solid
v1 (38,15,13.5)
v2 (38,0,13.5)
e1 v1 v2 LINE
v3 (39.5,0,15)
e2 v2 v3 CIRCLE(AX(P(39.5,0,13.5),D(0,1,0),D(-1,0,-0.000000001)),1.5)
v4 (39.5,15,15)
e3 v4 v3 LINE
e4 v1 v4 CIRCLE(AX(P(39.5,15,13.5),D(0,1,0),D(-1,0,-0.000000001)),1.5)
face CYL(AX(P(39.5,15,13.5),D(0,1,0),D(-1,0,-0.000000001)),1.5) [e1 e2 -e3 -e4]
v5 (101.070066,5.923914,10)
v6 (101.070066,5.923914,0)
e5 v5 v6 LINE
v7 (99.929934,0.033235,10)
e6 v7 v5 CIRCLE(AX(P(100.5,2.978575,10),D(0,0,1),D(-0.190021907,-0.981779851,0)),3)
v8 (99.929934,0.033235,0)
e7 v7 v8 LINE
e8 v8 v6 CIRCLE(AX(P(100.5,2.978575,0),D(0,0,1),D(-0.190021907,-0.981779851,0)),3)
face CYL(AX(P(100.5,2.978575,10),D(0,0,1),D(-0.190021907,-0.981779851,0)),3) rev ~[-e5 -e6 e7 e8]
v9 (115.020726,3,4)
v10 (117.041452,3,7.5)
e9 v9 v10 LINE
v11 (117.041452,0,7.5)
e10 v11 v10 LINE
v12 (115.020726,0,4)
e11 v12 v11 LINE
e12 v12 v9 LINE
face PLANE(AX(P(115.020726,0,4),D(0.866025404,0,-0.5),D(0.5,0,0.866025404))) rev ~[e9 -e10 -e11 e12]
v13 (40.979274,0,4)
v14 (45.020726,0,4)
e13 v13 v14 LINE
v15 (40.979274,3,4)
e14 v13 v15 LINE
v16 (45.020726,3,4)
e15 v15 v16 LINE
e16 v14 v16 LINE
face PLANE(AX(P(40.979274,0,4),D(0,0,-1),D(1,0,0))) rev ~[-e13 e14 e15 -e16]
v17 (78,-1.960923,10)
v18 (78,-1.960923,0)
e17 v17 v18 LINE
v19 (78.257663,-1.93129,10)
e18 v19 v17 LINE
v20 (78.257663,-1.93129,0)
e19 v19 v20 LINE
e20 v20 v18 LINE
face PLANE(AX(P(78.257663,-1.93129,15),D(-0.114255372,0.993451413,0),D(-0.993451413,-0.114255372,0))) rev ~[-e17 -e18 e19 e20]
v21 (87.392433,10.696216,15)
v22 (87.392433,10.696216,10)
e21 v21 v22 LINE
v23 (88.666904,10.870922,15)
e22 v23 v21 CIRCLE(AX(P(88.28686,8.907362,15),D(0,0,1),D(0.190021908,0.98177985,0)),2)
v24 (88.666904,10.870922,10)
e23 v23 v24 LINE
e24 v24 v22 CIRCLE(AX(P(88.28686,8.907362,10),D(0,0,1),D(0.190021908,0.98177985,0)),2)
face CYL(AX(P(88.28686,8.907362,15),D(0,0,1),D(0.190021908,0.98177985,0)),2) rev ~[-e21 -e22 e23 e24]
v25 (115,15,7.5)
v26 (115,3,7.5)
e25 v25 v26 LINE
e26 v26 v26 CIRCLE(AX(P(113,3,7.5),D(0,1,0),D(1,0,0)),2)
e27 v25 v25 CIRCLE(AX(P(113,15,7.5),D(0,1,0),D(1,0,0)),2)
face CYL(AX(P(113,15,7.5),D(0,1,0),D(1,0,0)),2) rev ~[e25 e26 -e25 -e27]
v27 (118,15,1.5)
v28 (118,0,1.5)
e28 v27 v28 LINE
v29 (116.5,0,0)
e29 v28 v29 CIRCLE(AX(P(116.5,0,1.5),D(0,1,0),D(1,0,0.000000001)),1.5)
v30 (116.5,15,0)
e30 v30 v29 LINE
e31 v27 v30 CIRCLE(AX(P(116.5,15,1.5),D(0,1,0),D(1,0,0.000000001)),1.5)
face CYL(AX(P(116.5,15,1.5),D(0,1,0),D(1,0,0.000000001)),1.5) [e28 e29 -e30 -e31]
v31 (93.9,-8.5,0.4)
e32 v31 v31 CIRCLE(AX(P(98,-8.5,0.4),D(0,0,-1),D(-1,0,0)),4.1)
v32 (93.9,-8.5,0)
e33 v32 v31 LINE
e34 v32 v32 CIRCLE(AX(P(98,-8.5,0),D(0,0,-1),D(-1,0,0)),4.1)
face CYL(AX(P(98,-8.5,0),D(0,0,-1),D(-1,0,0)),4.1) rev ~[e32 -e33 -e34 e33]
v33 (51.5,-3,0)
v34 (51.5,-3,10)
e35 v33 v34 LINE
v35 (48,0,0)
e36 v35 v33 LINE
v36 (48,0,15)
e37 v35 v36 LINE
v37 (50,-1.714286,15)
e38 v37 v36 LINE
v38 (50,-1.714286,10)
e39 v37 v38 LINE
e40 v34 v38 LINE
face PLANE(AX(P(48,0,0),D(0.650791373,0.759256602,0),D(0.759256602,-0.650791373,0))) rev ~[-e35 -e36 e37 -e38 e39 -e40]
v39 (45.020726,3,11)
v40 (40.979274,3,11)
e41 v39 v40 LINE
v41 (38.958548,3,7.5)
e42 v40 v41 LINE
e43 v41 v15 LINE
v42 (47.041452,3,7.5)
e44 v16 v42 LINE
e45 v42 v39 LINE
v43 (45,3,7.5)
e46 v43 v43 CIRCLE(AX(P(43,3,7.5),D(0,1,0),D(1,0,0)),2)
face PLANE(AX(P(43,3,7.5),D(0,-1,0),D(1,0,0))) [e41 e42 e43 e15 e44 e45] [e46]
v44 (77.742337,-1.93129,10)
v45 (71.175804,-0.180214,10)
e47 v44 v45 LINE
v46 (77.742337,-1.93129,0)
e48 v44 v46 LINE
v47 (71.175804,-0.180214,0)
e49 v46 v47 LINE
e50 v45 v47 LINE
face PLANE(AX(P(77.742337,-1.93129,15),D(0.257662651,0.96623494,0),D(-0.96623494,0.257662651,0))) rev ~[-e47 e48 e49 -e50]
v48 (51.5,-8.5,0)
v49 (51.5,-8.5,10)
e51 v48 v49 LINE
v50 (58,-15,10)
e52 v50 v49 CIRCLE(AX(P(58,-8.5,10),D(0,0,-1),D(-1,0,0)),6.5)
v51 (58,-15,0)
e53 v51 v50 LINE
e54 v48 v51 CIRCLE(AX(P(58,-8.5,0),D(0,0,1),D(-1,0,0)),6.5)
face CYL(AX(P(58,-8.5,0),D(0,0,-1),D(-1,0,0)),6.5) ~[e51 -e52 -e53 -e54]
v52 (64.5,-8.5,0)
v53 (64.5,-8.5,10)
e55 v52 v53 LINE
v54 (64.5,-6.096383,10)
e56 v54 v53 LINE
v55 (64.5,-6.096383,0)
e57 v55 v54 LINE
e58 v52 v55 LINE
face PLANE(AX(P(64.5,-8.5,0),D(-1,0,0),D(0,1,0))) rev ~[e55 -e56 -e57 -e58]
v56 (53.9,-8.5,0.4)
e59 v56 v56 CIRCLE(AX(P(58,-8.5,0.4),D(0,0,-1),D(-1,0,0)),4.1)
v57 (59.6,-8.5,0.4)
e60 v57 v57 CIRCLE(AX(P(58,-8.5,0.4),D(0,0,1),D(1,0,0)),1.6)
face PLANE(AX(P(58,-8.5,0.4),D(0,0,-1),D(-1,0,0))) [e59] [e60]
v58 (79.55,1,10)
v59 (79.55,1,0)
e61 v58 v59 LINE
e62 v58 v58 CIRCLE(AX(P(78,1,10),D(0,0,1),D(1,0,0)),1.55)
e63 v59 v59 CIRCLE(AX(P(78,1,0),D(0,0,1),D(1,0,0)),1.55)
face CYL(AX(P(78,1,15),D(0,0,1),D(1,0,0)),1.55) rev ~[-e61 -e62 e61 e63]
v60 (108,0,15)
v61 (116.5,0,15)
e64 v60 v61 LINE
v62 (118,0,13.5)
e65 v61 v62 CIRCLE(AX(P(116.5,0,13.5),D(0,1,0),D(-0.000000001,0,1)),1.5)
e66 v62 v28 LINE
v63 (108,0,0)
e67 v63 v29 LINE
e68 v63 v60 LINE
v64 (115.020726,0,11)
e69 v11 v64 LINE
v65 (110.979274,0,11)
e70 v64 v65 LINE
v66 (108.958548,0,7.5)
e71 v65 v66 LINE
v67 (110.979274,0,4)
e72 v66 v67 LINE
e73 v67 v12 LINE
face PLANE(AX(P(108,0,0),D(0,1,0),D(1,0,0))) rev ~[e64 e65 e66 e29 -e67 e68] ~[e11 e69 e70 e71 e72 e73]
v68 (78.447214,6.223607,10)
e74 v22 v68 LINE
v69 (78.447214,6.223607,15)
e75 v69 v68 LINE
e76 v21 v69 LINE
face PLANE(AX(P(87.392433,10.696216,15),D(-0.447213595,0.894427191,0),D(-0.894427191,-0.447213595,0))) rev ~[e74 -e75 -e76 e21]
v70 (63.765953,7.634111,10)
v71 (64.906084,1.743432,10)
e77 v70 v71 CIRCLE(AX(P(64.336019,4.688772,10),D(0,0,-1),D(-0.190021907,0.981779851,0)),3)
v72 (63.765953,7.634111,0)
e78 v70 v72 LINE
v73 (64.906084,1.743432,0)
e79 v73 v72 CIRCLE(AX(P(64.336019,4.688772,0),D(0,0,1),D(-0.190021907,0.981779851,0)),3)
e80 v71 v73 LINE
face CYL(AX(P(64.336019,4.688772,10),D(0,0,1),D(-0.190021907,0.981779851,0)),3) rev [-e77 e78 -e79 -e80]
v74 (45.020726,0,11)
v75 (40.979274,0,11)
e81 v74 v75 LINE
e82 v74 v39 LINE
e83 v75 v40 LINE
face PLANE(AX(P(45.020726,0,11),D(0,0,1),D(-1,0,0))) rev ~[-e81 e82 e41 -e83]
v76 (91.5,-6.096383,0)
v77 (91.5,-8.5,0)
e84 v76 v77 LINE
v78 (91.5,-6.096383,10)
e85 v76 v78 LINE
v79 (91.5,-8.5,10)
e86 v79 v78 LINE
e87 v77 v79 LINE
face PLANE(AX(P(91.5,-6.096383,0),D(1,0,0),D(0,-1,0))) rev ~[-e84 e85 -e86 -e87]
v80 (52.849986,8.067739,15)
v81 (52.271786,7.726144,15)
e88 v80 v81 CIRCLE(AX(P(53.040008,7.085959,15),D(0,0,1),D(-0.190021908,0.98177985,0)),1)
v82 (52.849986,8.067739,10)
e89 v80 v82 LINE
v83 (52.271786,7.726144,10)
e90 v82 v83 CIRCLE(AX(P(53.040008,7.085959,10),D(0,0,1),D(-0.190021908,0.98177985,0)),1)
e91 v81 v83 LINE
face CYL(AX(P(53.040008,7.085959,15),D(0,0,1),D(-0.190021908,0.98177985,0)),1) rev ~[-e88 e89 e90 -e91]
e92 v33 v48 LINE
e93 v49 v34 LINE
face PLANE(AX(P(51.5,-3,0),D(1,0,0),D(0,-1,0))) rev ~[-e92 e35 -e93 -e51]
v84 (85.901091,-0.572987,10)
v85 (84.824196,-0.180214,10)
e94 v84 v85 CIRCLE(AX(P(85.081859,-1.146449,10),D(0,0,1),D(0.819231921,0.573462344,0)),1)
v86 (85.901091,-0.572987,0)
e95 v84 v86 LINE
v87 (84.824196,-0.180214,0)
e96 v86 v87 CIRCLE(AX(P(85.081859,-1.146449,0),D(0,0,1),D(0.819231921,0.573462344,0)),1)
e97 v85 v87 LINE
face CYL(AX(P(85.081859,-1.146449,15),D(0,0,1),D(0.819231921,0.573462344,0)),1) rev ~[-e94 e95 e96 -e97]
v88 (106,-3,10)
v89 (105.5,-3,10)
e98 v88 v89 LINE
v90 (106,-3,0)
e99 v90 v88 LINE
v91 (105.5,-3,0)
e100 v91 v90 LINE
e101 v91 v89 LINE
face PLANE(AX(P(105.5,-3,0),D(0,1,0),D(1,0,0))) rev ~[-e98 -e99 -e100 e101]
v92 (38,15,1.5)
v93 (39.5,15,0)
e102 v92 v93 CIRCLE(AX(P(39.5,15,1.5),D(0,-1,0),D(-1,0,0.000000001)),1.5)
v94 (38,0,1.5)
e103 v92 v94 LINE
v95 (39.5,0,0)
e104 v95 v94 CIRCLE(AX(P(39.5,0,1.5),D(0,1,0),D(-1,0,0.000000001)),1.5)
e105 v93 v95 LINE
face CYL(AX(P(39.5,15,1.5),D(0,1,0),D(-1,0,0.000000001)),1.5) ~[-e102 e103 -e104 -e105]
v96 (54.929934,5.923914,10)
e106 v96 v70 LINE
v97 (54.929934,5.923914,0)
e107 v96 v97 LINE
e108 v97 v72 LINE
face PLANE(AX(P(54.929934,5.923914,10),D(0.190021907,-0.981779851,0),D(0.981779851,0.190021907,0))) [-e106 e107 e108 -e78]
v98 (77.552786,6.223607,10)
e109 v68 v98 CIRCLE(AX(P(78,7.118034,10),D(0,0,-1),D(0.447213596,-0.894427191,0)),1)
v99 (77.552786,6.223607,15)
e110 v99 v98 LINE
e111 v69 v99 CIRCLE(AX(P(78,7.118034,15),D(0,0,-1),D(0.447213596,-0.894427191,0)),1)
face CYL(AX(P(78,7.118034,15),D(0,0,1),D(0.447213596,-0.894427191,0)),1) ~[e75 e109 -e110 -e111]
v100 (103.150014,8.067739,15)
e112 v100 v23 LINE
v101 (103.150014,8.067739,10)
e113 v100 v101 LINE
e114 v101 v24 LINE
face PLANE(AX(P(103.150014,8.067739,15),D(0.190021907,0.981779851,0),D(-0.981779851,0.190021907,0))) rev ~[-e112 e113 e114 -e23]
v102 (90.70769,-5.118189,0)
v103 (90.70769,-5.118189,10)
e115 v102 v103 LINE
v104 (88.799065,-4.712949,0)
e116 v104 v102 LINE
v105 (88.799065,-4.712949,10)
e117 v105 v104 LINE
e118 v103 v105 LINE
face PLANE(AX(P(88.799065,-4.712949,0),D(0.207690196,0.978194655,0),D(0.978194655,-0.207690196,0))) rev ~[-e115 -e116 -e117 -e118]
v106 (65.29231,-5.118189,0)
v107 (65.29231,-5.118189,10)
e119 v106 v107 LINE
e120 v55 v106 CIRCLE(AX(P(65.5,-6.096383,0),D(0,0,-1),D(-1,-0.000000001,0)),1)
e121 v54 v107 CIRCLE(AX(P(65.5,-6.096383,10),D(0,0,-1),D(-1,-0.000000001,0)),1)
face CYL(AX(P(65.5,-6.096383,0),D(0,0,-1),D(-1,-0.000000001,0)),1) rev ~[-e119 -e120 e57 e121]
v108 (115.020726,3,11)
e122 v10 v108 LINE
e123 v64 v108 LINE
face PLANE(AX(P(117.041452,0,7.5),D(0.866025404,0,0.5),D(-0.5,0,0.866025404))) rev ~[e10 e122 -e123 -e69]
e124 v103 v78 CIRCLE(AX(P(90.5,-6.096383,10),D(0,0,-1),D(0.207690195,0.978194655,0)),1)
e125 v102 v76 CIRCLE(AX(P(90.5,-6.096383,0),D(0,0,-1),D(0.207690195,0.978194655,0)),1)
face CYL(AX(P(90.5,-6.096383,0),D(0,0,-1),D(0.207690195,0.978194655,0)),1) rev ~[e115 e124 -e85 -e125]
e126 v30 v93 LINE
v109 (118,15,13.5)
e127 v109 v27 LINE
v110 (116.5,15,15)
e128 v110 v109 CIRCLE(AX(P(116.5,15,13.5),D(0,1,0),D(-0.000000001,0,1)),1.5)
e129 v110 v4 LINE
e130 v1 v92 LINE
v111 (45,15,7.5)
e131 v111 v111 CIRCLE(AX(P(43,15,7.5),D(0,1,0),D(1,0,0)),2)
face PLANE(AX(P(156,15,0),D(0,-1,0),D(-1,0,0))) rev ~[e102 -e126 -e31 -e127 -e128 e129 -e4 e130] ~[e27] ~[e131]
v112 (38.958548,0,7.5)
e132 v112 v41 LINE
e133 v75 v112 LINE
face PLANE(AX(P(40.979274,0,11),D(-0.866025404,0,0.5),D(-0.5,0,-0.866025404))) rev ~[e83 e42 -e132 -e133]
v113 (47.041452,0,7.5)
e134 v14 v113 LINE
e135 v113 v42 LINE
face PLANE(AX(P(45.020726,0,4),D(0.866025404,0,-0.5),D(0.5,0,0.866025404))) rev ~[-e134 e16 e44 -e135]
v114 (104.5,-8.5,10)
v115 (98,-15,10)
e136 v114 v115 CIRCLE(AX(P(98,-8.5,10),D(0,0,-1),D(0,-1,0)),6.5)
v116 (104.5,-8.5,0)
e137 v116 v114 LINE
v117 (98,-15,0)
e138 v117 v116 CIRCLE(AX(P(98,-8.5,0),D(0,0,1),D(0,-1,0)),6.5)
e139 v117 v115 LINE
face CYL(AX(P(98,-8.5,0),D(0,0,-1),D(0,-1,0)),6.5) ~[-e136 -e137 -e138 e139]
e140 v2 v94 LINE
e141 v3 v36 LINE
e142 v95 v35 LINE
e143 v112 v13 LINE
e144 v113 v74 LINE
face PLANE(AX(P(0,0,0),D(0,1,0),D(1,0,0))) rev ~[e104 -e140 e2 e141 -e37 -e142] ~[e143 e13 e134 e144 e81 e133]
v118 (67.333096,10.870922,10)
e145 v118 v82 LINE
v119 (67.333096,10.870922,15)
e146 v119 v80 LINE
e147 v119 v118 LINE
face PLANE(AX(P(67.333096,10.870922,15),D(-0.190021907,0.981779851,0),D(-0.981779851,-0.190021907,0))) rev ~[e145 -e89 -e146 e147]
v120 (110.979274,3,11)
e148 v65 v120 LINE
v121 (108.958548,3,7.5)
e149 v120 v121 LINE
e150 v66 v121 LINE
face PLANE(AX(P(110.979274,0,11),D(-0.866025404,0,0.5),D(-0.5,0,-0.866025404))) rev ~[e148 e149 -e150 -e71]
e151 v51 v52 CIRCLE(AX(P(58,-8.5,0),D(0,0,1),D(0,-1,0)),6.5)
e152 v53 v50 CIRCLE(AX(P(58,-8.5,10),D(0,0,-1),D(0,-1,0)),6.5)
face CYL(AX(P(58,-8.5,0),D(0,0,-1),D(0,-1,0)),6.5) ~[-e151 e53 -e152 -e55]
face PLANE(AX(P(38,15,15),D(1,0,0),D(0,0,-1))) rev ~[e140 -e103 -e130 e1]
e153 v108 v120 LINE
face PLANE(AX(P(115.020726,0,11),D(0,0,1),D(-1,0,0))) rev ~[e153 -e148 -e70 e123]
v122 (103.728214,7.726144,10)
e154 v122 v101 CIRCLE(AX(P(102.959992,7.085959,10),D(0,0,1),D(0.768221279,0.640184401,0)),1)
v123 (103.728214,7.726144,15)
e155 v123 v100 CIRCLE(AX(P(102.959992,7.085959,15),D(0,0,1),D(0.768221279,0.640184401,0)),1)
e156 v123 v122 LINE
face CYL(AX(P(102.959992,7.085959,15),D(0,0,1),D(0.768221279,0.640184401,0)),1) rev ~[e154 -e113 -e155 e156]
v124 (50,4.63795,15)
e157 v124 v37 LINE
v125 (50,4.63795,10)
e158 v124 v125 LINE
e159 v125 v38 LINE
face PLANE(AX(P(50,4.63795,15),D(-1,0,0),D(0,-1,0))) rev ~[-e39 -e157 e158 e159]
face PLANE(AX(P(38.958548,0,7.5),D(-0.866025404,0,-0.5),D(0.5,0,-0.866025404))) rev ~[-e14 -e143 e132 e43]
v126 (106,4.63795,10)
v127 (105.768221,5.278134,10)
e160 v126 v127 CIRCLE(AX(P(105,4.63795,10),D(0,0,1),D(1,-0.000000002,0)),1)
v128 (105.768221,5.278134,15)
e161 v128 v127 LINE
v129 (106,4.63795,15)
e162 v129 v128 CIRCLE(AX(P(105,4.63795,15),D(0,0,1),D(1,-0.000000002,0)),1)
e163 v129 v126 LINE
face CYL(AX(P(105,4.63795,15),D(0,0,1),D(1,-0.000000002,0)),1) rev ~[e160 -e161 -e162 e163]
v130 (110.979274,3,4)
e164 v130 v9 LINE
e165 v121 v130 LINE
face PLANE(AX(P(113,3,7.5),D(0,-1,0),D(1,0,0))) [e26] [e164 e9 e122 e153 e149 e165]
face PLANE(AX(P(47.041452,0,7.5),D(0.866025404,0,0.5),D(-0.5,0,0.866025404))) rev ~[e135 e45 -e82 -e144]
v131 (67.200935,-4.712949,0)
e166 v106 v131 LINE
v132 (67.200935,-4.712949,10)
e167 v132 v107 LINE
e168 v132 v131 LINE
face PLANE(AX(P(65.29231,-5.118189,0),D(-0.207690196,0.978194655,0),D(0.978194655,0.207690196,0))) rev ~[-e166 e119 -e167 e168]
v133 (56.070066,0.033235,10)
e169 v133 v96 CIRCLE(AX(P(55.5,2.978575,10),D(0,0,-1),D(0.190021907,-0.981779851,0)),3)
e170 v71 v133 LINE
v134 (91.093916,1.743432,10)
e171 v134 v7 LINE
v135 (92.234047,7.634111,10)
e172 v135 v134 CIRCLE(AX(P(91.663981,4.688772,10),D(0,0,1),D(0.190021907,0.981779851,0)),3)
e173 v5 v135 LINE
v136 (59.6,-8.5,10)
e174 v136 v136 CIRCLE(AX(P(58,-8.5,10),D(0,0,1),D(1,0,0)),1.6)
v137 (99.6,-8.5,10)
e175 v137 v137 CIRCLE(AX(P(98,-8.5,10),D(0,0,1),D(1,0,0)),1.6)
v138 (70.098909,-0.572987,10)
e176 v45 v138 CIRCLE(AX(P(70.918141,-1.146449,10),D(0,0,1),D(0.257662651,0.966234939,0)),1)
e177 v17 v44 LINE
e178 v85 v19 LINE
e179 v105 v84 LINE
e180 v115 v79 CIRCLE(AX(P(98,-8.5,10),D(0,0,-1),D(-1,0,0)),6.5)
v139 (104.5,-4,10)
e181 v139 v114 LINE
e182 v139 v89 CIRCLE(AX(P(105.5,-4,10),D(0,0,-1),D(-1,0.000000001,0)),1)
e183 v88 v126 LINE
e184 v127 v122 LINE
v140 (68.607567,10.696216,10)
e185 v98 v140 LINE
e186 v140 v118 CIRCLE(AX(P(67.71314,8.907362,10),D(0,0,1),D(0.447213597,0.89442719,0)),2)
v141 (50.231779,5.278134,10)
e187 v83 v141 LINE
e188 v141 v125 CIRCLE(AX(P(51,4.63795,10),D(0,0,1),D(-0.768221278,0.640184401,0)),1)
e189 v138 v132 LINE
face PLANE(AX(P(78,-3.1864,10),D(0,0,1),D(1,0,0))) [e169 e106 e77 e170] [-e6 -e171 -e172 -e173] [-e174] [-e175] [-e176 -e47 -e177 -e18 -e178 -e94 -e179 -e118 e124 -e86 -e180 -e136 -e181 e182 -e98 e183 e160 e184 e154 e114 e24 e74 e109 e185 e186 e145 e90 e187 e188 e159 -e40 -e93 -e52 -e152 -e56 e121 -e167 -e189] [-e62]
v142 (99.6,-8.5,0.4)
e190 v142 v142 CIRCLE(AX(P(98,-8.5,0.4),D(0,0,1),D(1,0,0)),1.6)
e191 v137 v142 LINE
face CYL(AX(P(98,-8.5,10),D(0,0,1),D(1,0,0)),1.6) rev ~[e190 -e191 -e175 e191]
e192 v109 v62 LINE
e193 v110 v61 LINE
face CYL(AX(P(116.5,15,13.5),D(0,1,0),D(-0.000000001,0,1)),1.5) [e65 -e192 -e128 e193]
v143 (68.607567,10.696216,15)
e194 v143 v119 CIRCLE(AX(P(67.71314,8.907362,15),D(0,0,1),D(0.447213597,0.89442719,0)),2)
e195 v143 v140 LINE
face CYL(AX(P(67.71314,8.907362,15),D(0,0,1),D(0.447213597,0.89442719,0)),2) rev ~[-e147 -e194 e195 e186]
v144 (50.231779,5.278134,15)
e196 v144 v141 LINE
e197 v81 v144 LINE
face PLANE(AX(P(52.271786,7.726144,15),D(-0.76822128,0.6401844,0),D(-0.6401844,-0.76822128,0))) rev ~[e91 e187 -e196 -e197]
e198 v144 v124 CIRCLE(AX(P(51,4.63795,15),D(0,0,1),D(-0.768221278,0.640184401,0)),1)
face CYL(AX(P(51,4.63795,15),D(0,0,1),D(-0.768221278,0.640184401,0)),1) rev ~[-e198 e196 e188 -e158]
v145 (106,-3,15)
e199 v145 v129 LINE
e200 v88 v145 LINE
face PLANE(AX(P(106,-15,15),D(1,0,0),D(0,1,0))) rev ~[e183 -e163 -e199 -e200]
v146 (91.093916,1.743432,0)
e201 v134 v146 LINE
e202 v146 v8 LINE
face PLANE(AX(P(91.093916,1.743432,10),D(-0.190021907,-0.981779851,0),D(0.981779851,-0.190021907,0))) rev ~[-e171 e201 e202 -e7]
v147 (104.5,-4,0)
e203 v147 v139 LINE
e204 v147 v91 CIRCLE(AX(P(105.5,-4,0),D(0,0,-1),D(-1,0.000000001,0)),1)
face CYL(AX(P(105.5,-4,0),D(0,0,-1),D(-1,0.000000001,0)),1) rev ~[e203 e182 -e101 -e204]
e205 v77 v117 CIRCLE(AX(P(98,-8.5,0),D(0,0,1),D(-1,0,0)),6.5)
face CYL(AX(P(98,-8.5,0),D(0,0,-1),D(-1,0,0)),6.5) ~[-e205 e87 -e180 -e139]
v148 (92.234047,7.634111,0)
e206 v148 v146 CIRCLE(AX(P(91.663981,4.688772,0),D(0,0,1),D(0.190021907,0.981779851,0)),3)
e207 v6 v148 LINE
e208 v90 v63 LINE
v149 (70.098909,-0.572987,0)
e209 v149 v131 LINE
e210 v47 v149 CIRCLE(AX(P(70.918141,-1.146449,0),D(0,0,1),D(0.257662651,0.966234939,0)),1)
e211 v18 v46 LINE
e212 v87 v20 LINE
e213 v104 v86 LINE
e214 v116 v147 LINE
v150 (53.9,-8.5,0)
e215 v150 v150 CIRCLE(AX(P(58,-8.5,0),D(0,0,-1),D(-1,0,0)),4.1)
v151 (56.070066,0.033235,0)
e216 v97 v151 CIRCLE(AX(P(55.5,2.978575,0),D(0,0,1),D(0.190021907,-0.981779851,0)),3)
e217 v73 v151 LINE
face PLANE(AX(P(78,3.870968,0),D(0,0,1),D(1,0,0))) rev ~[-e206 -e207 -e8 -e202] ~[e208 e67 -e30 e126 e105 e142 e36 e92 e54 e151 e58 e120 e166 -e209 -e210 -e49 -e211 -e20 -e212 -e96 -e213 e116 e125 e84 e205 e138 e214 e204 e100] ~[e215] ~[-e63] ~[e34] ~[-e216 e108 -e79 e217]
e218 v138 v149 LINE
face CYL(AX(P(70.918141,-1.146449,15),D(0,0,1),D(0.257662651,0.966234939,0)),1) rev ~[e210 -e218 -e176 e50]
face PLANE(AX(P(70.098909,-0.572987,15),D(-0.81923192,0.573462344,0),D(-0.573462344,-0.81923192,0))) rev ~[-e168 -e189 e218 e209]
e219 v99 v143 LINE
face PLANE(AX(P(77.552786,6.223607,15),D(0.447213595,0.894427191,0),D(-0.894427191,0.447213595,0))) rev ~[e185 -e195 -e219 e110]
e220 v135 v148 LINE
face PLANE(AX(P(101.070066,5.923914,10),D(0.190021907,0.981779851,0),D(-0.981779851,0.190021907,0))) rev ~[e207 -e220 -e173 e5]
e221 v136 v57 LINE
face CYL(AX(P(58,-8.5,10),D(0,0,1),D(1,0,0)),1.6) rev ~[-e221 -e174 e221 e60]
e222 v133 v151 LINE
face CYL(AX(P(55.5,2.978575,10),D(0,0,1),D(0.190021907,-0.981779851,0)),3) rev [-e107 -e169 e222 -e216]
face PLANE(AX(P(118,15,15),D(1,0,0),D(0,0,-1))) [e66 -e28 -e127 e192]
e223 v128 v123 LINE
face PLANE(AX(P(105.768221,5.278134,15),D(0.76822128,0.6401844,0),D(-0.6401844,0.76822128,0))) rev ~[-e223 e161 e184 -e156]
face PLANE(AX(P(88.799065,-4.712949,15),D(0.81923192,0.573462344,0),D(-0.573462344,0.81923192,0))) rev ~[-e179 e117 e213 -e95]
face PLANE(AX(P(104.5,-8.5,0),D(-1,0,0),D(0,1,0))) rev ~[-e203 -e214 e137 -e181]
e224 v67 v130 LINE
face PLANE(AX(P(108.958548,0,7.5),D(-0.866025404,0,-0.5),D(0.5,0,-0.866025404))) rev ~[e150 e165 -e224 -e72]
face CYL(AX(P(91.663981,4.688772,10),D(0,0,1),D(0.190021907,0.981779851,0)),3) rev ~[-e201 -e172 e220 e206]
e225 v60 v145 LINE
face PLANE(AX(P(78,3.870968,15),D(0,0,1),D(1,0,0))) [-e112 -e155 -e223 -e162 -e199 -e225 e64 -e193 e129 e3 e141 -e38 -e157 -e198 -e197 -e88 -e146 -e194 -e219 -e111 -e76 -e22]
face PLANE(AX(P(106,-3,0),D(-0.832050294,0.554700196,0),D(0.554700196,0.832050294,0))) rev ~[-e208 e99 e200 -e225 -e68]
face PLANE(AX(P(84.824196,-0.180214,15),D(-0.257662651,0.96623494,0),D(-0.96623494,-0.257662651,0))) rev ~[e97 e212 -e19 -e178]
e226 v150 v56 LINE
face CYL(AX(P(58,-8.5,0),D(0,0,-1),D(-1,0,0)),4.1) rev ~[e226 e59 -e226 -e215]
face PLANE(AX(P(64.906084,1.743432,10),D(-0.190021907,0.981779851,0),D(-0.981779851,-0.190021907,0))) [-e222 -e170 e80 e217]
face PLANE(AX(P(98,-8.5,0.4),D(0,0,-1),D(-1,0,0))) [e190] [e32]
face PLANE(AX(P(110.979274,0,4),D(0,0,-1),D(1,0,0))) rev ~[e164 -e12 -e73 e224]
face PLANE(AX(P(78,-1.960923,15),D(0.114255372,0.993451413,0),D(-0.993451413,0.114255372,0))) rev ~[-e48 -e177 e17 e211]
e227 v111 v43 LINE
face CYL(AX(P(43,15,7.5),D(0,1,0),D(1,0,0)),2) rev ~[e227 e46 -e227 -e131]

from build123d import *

# Parameters (mm, degrees)
BOSS_EXTRUDE1_DEPTH = 15
CUT_EXTRUDE7_DEPTH  = 5
CUT_EXTRUDE8_DEPTH  = 35
SKETCH3_R           = 1.55
CUT_EXTRUDE10_DEPTH = 32
SKETCH10_R          = 1.6
CUT_EXTRUDE11_DEPTH = 32
SKETCH11_R          = 4.1
CUT_EXTRUDE12_DEPTH = 0.4
CUT_EXTRUDE13_DEPTH = 32
SKETCH14_R          = 2
CUT_EXTRUDE14_DEPTH = 22
CUT_EXTRUDE15_DEPTH = 3
SKETCH16_W          = 38
SKETCH16_H          = 15
CUT_EXTRUDE16_DEPTH = 20
CUT_EXTRUDE17_DEPTH = 20


with BuildPart() as part:
    # Sketch1 → Boss-Extrude1 (new body)
    with BuildSketch(Plane.XY):
        Polygon((0, 0), (48, 0), (48, -15), (108, -15), (108, 0), (156, 0), (156, 15), (0, 15), align=None)
    extrude(amount=BOSS_EXTRUDE1_DEPTH)

    # Sketch2 → Cut-Extrude7 (cut)
    with BuildSketch(Plane.XY.offset(15)):
        with BuildLine():
            Line((77.552786405, 6.223606798), (68.60756702, 10.69621649))
            ThreePointArc((68.60756702, 10.69621649), (67.984760984, 10.888831752), (67.333096015, 10.870921809))
            Line((67.333096015, 10.870921809), (52.849985824, 8.067739192))
            ThreePointArc((52.849985824, 8.067739192), (52.531353266, 7.946930093), (52.271786451, 7.726143741))
            Line((52.271786451, 7.726143741), (50.23177872, 5.278134464))
            ThreePointArc((50.23177872, 5.278134464), (50.059728422, 4.978375329), (50, 4.637950065))
            Line((50, 4.637950065), (50, -15))
            Line((50, -15), (106, -15))
            Line((106, -15), (106, 4.637950065))
            ThreePointArc((106, 4.637950065), (105.940271578, 4.978375329), (105.76822128, 5.278134464))
            Line((105.76822128, 5.278134464), (103.728213549, 7.726143741))
            ThreePointArc((103.728213549, 7.726143741), (103.468646734, 7.946930093), (103.150014176, 8.067739192))
            Line((103.150014176, 8.067739192), (88.666903985, 10.870921809))
            ThreePointArc((88.666903985, 10.870921809), (88.015239016, 10.888831752), (87.39243298, 10.69621649))
            Line((87.39243298, 10.69621649), (78.447213595, 6.223606798))
            ThreePointArc((78.447213595, 6.223606798), (78, 6.118033989), (77.552786405, 6.223606798))
        make_face()
    extrude(amount=-CUT_EXTRUDE7_DEPTH, mode=Mode.SUBTRACT)

    # Sketch4 → Cut-Extrude8 (cut)
    with BuildSketch(Plane.XY.offset(15)):
        with BuildLine():
            Line((78.257662651, -1.93128996), (78, -1.960923359))
            Line((78, -1.960923359), (77.742337349, -1.93128996))
            Line((77.742337349, -1.93128996), (71.175803726, -0.180214327))
            ThreePointArc((71.175803726, -0.180214327), (70.575493167, -0.206985371), (70.098909155, -0.572986922))
            Line((70.098909155, -0.572986922), (67.200935386, -4.712949448))
            ThreePointArc((67.200935386, -4.712949448), (67.05739096, -5.016112502), (67.022171235, -5.349687697))
            Line((67.022171235, -5.349687697), (67.574638514, -14.063275904))
            ThreePointArc((67.574638514, -14.063275904), (67.888264768, -14.729135071), (68.572634586, -15))
            Line((68.572634586, -15), (87.427365414, -15))
            ThreePointArc((87.427365414, -15), (88.111735232, -14.729135071), (88.425361486, -14.063275904))
            Line((88.425361486, -14.063275904), (88.977828765, -5.349687697))
            ThreePointArc((88.977828765, -5.349687697), (88.94260904, -5.016112502), (88.799064614, -4.712949448))
            Line((88.799064614, -4.712949448), (85.901090845, -0.572986922))
            ThreePointArc((85.901090845, -0.572986922), (85.424506833, -0.206985371), (84.824196274, -0.180214327))
            Line((84.824196274, -0.180214327), (78.257662651, -1.93128996))
        make_face()
    extrude(amount=-CUT_EXTRUDE8_DEPTH, mode=Mode.SUBTRACT)

    # Sketch3 → Cut-Extrude10 (cut)
    with BuildSketch(Plane.XY.offset(15)):
        with Locations((78, 1)):
            Circle(SKETCH3_R)
    extrude(amount=-CUT_EXTRUDE10_DEPTH, mode=Mode.SUBTRACT)

    # Sketch10 → Cut-Extrude11 (cut)
    with BuildSketch(Plane.XY.offset(10)):
        with Locations((98, -8.5)):
            Circle(SKETCH10_R)
        with Locations((58, -8.5)):
            Circle(SKETCH10_R)
        with BuildLine():
            Line((54.92993428, 5.92391415), (63.765952936, 7.634111309))
            ThreePointArc((63.765952936, 7.634111309), (67.281358207, 5.258837477), (64.906084375, 1.743432206))
            Line((64.906084375, 1.743432206), (56.07006572, 0.033235047))
            ThreePointArc((56.07006572, 0.033235047), (52.554660448, 2.408508879), (54.92993428, 5.92391415))
        make_face()
        with BuildLine():
            Line((101.07006572, 5.92391415), (92.234047064, 7.634111309))
            ThreePointArc((92.234047064, 7.634111309), (88.718641793, 5.258837477), (91.093915625, 1.743432206))
            Line((91.093915625, 1.743432206), (99.92993428, 0.033235047))
            ThreePointArc((99.92993428, 0.033235047), (103.445339552, 2.408508879), (101.07006572, 5.92391415))
        make_face()
    extrude(amount=-CUT_EXTRUDE11_DEPTH, mode=Mode.SUBTRACT)

    # Sketch11 → Cut-Extrude12 (cut)
    with BuildSketch(Plane(origin=(0, 0, 0), x_dir=(-1, 0, 0), z_dir=(0, 0, -1))):
        with Locations((-58, -8.5)):
            Circle(SKETCH11_R)
        with Locations((-98, -8.5)):
            Circle(SKETCH11_R)
    extrude(amount=-CUT_EXTRUDE12_DEPTH, mode=Mode.SUBTRACT)

    # Sketch13 → Cut-Extrude13 (cut)
    with BuildSketch(Plane(origin=(0, 0, 0), x_dir=(-1, 0, 0), z_dir=(0, 0, -1))):
        with BuildLine():
            Line((-108, -15), (-98, -15))
            ThreePointArc((-98, -15), (-102.596194078, -13.096194078), (-104.5, -8.5))
            Line((-104.5, -8.5), (-104.5, -4))
            ThreePointArc((-104.5, -4), (-104.792893219, -3.292893219), (-105.5, -3))
            Line((-105.5, -3), (-106, -3))
            Line((-106, -3), (-108, 0))
            Line((-108, 0), (-108, -15))
        make_face()
        with BuildLine():
            Line((-91.5, -6.096383305), (-91.5, -8.5))
            ThreePointArc((-91.5, -8.5), (-93.403805922, -13.096194078), (-98, -15))
            Line((-98, -15), (-87.427365414, -15))
            Line((-87.427365414, -15), (-88.799064614, -4.712949448))
            Line((-88.799064614, -4.712949448), (-90.707690196, -5.11818865))
            ThreePointArc((-90.707690196, -5.11818865), (-91.277074706, -5.46697493), (-91.5, -6.096383305))
        make_face()
        with BuildLine():
            ThreePointArc((-51.5, -8.5), (-53.403805922, -13.096194078), (-58, -15))
            Line((-58, -15), (-48, -15))
            Line((-48, -15), (-48, 0))
            Line((-48, 0), (-51.5, -3))
            Line((-51.5, -3), (-51.5, -8.5))
        make_face()
        with BuildLine():
            Line((-67.200935386, -4.712949448), (-68.572634586, -15))
            Line((-68.572634586, -15), (-58, -15))
            ThreePointArc((-58, -15), (-62.596194078, -13.096194078), (-64.5, -8.5))
            Line((-64.5, -8.5), (-64.5, -6.096383305))
            ThreePointArc((-64.5, -6.096383305), (-64.722925294, -5.46697493), (-65.292309804, -5.11818865))
            Line((-65.292309804, -5.11818865), (-67.200935386, -4.712949448))
        make_face()
    extrude(amount=-CUT_EXTRUDE13_DEPTH, mode=Mode.SUBTRACT)

    # Sketch14 → Cut-Extrude14 (cut)
    with BuildSketch(Plane(origin=(0, 15, 0), x_dir=(1, 0, 0), z_dir=(0, 1, 0))):
        with Locations((113, -7.5)):
            Circle(SKETCH14_R)
        with Locations((43, -7.5)):
            Circle(SKETCH14_R)
    extrude(amount=-CUT_EXTRUDE14_DEPTH, mode=Mode.SUBTRACT)

    # Sketch15 → Cut-Extrude15 (cut)
    with BuildSketch(Plane.XZ):
        Polygon((117.041451884, 7.5), (115.020725942, 11), (110.979274058, 11), (108.958548116, 7.5), (110.979274058, 4), (115.020725942, 4), align=None)
        Polygon((38.958548116, 7.5), (40.979274058, 4), (45.020725942, 4), (47.041451884, 7.5), (45.020725942, 11), (40.979274058, 11), align=None)
    extrude(amount=-CUT_EXTRUDE15_DEPTH, mode=Mode.SUBTRACT)

    # Sketch16 → Cut-Extrude16 (cut)
    with BuildSketch(Plane(origin=(0, 15, 0), x_dir=(1, 0, 0), z_dir=(0, 1, 0))):
        with Locations((137, -7.5)):
            Rectangle(SKETCH16_W, SKETCH16_H)
        with Locations((19, -7.5)):
            Rectangle(SKETCH16_W, SKETCH16_H)
    extrude(amount=-CUT_EXTRUDE16_DEPTH, mode=Mode.SUBTRACT)

    # Sketch17 → Cut-Extrude17 (cut)
    with BuildSketch(Plane(origin=(0, 15, 0), x_dir=(1, 0, 0), z_dir=(0, 1, 0))):
        with BuildLine():
            Line((118, -13.5), (118, -15))
            Line((118, -15), (116.5, -15))
            ThreePointArc((116.5, -15), (117.560660172, -14.560660172), (118, -13.5))
        make_face()
        with BuildLine():
            Line((116.5, 0), (118, 0))
            Line((118, 0), (118, -1.5))
            ThreePointArc((118, -1.5), (117.560660172, -0.439339828), (116.5, 0))
        make_face()
        with BuildLine():
            Line((39.5, 0), (38, 0))
            Line((38, 0), (38, -1.5))
            ThreePointArc((38, -1.5), (38.439339828, -0.439339828), (39.5, 0))
        make_face()
        with BuildLine():
            Line((39.5, -15), (38, -15))
            Line((38, -15), (38, -13.5))
            ThreePointArc((38, -13.5), (38.439339828, -14.560660172), (39.5, -15))
        make_face()
    extrude(amount=-CUT_EXTRUDE17_DEPTH, mode=Mode.SUBTRACT)


solid = part.part
